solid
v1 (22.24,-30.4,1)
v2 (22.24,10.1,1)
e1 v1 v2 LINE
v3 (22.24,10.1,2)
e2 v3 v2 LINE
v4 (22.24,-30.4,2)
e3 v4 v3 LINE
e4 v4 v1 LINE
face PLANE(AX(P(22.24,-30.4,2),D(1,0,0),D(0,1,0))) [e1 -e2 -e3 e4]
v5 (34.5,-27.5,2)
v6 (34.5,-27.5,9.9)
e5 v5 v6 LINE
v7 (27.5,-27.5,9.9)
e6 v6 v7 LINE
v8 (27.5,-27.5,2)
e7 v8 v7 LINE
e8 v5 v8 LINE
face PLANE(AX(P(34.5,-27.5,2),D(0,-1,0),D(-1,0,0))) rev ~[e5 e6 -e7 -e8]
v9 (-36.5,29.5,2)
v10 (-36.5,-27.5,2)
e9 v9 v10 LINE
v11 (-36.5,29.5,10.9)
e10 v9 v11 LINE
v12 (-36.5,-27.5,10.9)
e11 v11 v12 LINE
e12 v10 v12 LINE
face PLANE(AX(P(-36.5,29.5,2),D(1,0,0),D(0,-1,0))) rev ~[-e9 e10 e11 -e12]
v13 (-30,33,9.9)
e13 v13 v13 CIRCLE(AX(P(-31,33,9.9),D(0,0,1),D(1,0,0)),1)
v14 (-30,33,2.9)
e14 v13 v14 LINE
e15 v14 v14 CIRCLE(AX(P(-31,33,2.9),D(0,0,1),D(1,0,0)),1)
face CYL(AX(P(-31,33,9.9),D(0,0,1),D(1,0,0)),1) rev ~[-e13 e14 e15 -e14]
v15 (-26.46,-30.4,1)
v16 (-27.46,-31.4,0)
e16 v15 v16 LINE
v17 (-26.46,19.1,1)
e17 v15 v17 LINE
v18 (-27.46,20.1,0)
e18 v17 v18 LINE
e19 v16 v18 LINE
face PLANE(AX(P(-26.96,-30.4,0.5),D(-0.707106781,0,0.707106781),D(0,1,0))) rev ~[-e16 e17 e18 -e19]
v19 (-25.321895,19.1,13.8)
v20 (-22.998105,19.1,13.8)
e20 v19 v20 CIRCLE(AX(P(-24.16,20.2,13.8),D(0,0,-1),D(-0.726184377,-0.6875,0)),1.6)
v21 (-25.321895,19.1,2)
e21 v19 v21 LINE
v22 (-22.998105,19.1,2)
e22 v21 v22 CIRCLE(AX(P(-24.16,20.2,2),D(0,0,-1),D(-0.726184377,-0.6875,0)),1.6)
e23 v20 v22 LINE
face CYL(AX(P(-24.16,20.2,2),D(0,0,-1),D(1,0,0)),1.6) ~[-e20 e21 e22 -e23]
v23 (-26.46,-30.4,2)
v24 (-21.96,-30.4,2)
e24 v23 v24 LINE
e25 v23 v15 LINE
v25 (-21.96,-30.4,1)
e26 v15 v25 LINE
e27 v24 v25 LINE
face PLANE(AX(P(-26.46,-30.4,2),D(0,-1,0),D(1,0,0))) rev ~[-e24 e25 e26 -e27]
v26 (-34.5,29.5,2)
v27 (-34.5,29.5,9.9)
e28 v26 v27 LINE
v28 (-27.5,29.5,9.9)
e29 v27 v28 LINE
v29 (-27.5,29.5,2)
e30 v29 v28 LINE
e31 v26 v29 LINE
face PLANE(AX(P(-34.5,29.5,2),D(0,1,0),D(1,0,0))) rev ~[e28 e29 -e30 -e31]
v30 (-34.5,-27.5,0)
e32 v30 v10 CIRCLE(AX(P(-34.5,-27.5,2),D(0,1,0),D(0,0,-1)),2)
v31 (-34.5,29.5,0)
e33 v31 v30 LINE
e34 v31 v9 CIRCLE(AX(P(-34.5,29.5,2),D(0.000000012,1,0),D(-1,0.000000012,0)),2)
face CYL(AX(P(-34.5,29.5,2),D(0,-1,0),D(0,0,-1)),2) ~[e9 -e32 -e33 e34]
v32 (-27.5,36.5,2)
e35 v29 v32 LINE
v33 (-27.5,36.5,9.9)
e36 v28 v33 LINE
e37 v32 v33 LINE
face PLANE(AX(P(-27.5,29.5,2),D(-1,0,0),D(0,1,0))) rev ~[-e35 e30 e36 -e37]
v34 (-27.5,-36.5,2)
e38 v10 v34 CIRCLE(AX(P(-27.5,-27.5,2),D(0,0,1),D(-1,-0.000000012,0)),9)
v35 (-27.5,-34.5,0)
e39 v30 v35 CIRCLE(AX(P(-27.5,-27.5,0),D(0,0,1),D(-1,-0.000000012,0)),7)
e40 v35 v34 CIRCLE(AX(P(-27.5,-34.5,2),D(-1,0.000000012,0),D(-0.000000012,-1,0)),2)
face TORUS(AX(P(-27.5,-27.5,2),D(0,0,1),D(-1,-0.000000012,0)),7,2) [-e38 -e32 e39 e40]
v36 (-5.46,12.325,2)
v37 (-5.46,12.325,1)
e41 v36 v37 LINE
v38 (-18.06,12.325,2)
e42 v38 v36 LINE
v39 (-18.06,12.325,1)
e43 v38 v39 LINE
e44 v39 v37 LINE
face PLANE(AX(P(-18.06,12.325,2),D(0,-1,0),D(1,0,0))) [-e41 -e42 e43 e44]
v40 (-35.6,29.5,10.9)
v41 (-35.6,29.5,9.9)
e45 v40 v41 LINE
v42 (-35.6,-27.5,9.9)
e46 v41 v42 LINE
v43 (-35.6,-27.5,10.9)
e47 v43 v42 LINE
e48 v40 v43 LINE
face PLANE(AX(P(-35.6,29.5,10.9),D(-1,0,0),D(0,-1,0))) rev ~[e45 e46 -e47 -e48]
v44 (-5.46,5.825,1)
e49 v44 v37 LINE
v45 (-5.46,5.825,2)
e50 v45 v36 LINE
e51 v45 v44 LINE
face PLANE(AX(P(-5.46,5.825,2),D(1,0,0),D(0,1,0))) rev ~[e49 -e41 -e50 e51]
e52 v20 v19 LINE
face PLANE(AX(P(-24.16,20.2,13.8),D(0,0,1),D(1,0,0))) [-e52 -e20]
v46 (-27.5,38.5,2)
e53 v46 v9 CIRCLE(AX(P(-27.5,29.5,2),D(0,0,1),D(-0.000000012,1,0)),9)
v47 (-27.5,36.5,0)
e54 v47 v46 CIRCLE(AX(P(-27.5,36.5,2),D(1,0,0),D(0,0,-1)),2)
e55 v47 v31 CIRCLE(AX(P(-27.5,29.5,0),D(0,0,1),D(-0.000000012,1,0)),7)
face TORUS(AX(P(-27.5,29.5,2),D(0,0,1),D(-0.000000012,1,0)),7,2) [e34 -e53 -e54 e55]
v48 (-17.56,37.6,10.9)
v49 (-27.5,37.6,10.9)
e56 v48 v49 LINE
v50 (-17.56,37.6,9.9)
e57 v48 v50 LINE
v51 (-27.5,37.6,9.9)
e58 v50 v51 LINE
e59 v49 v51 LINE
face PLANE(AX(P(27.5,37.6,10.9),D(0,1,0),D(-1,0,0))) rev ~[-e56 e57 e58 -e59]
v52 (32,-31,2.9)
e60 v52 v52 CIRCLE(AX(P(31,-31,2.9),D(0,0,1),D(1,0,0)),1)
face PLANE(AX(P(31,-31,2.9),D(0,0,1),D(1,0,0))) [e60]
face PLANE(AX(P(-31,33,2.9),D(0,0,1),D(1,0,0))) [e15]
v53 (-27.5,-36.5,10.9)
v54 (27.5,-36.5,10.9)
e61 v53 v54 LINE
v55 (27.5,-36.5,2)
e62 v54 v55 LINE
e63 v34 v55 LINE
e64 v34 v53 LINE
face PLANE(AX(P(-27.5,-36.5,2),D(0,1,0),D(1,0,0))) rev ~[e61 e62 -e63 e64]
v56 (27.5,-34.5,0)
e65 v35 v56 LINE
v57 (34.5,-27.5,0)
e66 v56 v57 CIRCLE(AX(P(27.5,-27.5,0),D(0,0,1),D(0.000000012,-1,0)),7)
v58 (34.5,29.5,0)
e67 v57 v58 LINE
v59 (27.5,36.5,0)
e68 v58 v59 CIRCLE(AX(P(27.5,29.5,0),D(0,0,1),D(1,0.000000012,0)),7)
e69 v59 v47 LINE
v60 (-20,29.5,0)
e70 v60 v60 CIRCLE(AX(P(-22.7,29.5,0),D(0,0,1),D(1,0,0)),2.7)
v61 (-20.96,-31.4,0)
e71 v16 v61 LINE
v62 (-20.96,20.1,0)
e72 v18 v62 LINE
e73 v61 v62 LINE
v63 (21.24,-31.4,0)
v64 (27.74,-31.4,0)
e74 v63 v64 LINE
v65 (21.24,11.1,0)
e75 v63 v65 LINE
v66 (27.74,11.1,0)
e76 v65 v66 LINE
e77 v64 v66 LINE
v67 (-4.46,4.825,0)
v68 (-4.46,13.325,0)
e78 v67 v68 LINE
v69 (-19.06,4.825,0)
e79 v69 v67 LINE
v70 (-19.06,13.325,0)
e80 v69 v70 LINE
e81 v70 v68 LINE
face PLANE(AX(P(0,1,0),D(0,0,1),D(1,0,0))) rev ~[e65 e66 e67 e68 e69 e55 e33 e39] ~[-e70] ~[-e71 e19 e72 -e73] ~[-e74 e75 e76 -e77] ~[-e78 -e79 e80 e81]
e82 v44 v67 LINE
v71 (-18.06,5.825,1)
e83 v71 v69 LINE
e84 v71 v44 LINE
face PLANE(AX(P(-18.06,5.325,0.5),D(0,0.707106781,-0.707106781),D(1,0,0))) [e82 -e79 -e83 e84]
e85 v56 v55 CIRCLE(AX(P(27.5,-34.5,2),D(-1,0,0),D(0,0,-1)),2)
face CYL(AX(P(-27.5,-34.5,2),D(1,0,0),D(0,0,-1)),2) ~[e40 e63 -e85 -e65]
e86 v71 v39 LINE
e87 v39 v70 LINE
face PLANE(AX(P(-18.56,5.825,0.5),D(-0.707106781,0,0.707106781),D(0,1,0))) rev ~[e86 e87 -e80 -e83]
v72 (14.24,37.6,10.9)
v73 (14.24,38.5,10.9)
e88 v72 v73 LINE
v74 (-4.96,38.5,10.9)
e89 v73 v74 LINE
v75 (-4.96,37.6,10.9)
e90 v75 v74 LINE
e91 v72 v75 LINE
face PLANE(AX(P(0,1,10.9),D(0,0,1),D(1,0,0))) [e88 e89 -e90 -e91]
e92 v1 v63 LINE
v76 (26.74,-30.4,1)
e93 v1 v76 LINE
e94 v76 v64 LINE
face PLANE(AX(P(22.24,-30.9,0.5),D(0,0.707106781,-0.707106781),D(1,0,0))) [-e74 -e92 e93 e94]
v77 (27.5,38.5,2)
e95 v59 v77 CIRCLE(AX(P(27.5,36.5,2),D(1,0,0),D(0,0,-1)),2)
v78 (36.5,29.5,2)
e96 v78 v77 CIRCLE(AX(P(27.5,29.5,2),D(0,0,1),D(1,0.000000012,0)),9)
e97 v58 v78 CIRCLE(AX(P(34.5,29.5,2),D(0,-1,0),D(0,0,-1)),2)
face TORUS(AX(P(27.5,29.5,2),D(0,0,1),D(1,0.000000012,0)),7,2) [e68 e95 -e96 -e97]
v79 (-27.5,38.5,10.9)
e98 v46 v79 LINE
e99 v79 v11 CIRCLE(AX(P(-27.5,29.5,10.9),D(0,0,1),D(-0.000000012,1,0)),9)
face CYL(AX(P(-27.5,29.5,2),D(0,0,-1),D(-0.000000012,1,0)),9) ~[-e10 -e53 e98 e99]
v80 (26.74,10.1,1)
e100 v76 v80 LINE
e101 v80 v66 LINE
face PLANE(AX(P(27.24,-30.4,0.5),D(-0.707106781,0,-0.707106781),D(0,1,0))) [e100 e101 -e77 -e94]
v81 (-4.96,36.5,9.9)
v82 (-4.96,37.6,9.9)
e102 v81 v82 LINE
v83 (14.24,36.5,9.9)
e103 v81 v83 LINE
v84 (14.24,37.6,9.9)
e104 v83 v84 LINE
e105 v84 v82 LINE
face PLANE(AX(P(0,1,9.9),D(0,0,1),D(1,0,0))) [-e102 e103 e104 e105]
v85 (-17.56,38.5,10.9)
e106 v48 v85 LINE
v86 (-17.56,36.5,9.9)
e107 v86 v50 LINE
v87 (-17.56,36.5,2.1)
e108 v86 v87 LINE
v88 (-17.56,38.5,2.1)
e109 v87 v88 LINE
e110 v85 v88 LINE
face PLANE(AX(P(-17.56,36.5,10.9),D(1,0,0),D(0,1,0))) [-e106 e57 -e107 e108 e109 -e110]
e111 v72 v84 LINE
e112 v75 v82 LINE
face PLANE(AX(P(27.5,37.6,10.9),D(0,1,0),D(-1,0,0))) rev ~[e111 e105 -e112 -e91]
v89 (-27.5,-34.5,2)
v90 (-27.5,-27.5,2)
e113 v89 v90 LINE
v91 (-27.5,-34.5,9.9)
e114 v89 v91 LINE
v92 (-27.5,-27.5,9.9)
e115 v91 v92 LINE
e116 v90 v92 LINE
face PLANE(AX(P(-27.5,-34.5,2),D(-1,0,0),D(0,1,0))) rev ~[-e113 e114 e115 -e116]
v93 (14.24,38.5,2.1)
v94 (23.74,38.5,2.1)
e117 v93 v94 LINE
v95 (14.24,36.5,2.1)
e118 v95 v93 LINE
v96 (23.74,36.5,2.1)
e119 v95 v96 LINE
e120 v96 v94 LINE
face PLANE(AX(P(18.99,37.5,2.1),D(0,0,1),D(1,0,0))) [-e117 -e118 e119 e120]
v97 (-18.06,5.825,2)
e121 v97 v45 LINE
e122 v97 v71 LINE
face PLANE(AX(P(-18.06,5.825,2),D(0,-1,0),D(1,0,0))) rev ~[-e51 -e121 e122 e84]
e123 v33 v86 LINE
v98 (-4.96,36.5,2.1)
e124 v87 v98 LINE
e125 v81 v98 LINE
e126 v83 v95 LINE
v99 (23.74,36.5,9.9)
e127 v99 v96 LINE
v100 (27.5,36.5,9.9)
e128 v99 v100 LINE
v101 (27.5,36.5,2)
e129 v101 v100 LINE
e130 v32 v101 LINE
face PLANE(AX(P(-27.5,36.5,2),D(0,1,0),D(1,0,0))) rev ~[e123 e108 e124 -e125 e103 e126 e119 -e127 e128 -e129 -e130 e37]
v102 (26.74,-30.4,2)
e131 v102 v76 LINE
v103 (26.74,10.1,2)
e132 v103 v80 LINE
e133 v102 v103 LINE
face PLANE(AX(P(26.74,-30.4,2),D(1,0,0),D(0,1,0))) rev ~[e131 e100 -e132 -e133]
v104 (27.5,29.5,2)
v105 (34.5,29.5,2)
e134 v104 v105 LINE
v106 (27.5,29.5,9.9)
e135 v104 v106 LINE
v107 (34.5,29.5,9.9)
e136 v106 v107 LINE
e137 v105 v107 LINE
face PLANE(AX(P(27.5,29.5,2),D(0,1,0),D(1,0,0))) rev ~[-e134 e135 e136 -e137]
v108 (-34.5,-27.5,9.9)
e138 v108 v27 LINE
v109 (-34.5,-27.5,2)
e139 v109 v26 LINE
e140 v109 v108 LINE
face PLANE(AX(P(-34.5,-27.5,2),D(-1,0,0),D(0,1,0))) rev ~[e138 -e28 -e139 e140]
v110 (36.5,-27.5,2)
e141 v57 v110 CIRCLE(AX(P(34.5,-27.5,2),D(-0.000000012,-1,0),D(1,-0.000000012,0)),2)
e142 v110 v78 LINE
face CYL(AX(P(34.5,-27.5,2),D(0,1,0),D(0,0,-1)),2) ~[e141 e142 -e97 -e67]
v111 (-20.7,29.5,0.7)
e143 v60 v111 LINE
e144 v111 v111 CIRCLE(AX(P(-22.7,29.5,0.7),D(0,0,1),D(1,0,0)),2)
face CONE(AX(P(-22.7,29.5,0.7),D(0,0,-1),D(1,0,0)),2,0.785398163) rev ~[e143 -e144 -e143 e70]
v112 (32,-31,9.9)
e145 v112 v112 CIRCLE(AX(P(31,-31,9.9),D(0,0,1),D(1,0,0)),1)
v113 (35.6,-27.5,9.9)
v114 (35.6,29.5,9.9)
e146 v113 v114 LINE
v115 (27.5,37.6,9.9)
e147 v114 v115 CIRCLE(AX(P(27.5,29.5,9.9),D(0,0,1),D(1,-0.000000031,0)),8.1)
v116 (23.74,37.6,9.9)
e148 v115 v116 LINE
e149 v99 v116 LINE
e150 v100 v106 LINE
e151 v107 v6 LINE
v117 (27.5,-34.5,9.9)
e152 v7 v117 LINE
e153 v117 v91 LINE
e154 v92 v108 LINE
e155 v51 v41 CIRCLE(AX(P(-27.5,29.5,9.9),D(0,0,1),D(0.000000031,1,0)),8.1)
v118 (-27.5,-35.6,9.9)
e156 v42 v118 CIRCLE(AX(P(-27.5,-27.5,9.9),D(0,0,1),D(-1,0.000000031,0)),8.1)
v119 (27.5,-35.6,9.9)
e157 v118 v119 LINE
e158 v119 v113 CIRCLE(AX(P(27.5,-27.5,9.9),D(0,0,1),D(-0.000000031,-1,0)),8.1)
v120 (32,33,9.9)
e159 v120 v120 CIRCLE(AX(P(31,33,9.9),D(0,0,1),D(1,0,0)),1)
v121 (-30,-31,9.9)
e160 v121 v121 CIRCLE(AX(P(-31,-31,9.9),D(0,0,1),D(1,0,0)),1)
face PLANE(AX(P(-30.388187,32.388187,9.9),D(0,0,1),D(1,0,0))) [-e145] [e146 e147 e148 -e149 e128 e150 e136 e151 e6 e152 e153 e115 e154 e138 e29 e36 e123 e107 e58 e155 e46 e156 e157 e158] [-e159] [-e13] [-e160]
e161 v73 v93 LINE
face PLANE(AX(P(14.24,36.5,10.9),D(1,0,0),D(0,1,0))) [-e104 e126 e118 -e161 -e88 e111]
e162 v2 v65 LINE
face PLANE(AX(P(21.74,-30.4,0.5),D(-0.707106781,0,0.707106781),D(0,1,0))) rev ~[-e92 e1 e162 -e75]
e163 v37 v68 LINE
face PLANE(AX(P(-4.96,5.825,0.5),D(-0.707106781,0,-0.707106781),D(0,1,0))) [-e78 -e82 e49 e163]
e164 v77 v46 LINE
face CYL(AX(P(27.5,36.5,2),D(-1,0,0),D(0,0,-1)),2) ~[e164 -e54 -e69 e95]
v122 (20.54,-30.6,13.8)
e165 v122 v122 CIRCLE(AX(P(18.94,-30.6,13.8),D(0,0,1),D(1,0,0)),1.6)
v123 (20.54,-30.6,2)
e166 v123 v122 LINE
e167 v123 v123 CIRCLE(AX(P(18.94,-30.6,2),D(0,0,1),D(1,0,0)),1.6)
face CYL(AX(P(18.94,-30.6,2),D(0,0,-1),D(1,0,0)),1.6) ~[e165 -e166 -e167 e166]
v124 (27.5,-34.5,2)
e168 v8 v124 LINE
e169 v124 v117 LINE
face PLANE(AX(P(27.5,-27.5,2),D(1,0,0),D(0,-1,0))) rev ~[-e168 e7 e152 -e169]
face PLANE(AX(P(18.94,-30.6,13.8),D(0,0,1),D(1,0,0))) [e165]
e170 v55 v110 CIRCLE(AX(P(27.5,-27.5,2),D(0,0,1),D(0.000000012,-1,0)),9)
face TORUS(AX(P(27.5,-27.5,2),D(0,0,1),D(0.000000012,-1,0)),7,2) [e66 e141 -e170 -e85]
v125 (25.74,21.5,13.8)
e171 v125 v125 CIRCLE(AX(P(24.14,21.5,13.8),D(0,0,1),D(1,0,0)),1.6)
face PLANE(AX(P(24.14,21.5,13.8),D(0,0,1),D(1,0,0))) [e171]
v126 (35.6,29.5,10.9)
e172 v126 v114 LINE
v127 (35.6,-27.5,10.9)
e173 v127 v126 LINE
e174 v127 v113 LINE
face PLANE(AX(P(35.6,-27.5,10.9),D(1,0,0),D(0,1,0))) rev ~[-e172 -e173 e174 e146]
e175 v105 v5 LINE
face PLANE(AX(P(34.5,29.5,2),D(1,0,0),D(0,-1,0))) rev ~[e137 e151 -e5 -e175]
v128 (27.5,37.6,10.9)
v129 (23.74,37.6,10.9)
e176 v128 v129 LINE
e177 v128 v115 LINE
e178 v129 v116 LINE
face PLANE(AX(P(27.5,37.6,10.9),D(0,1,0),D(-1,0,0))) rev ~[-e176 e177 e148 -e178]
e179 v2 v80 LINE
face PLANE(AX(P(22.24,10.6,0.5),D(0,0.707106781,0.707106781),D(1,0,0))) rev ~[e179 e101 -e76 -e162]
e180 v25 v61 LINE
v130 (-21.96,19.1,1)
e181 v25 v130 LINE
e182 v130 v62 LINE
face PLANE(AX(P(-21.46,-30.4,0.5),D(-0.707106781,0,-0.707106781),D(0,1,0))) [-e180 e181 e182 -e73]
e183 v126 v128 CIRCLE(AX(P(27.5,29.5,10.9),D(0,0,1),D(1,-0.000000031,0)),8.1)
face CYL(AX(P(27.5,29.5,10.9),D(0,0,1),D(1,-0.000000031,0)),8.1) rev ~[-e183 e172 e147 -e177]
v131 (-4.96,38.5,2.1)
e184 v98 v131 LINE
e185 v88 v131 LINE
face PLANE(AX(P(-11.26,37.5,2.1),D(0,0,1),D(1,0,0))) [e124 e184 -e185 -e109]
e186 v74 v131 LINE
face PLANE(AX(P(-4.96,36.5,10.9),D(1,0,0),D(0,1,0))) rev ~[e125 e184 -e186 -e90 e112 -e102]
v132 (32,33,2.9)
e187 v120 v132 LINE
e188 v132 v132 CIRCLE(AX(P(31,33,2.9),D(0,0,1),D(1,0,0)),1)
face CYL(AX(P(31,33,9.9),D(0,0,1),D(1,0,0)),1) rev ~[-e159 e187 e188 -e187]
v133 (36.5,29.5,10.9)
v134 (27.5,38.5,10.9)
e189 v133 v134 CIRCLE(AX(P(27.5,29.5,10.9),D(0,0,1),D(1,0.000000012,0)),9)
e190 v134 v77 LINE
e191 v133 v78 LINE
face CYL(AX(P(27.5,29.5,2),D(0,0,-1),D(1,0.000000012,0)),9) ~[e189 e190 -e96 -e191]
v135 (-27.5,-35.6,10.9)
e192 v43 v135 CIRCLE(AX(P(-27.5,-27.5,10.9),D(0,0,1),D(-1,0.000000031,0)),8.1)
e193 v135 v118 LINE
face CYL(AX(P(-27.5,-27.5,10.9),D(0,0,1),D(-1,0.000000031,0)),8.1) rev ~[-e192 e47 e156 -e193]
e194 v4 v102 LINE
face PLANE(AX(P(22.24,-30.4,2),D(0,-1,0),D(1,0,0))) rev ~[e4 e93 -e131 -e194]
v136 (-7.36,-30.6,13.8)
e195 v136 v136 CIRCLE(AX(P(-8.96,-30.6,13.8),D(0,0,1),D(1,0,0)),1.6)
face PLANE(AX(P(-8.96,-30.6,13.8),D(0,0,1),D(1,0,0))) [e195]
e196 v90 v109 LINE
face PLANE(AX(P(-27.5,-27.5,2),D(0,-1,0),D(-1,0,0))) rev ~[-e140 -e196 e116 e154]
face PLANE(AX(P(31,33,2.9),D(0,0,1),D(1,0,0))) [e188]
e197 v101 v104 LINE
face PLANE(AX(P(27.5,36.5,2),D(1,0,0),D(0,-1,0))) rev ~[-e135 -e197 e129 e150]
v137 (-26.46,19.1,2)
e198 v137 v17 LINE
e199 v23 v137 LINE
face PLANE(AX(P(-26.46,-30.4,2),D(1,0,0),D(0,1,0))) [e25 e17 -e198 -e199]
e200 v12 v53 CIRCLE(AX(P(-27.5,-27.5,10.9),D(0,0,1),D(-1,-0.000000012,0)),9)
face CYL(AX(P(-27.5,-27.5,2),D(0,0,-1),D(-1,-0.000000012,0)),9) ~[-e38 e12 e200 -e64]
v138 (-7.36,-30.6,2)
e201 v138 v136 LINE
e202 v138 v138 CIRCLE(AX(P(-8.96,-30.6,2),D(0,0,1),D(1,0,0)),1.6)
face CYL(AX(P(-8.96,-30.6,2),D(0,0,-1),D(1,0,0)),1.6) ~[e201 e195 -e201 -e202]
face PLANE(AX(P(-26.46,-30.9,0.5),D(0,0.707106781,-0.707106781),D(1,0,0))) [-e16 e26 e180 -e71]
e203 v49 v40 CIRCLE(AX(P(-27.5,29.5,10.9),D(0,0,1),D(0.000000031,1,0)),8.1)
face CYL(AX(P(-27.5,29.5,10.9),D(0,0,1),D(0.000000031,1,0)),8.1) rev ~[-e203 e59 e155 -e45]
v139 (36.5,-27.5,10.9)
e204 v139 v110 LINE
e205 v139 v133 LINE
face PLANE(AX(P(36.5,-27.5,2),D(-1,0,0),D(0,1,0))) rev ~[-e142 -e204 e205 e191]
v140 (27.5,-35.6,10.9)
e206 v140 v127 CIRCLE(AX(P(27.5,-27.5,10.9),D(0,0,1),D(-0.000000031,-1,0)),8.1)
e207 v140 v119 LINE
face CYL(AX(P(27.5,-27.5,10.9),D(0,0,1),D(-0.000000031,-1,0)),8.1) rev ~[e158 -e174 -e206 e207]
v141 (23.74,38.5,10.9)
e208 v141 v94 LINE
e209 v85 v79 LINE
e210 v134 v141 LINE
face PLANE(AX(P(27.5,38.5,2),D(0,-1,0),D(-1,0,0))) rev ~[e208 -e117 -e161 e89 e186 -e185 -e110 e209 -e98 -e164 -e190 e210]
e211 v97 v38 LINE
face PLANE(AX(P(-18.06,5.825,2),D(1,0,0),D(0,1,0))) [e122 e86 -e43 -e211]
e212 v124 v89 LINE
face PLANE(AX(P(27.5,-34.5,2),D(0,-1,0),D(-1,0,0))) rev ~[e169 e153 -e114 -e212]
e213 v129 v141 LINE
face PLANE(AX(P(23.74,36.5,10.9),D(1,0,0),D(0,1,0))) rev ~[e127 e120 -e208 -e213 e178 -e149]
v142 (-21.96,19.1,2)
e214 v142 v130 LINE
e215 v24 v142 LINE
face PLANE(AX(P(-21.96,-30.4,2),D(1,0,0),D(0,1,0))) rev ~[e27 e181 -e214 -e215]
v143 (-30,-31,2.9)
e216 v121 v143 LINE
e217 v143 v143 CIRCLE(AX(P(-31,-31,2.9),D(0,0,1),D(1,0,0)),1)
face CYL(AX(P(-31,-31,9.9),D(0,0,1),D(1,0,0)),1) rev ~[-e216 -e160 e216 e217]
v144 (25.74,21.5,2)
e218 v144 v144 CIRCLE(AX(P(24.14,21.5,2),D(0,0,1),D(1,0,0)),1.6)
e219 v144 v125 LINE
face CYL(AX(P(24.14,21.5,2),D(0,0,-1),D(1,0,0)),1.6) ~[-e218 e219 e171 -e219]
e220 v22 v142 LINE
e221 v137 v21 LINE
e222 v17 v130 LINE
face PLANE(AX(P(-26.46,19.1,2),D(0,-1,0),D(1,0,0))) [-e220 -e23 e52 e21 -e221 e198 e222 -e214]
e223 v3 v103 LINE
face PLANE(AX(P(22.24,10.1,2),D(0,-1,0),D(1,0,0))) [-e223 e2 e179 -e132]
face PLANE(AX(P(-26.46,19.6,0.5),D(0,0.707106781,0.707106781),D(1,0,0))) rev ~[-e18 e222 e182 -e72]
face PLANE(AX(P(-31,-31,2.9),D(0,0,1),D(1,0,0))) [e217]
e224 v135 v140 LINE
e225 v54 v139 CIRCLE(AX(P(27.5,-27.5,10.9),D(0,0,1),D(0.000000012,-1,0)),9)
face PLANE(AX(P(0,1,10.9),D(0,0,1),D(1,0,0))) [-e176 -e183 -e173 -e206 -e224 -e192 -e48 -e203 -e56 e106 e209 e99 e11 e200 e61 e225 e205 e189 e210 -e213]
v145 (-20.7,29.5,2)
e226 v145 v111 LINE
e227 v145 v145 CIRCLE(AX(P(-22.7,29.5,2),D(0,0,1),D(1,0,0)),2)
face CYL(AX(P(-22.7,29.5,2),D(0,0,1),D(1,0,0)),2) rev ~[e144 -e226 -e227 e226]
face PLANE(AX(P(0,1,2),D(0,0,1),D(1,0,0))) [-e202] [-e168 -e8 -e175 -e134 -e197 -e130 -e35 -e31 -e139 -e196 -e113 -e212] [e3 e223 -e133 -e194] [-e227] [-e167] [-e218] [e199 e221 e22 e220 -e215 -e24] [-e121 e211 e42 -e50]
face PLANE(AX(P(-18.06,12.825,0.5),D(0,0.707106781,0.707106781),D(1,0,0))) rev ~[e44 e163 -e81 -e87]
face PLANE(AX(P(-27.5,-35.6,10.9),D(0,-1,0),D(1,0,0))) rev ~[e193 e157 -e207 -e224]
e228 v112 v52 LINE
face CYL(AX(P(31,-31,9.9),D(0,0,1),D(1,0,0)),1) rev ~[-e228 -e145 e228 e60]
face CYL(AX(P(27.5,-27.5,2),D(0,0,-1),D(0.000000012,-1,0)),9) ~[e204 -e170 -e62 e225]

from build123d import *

# Parameters (mm, degrees)
F1_DEPTH  = 2
F2_R      = 1.6
F3_DEPTH  = 11.8
F5_DEPTH  = 8.9
F7_DEPTH  = 1
F8_W      = 12.6
F8_H      = 2
F8_W_2    = 9.5
F9_DEPTH  = 8.8
F10_W     = 4.5
F10_H     = 49.5
F10_H_2   = 40.5
F11_DEPTH = 10
F12_DEPTH = 15
F14_DEPTH = 7.9
F15_R     = 1
F16_DEPTH = 7
F17_W     = 12.6
F17_H     = 6.5
F18_DEPTH = 4
F19_SIZE  = 1
F20_R     = 2
F21_DEPTH = 4
F22_R     = 2
F23_SIZE  = 0.7


with BuildPart() as f1:
    # F0 (on Top) → F1 (new body)
    with BuildSketch(Plane.XY):
        with BuildLine():
            Line((27.5, 38.5), (-27.5, 38.5))
            ThreePointArc((-27.5, 38.5), (-33.863961, 35.863961), (-36.5, 29.5))
            Line((-36.5, 29.5), (-36.5, -27.5))
            ThreePointArc((-36.5, -27.5), (-33.863961, -33.863961), (-27.5, -36.5))
            Line((-27.5, -36.5), (27.5, -36.5))
            ThreePointArc((27.5, -36.5), (33.863961, -33.863961), (36.5, -27.5))
            Line((36.5, -27.5), (36.5, 29.5))
            ThreePointArc((36.5, 29.5), (33.863961, 35.863961), (27.5, 38.5))
        make_face()
    extrude(amount=F1_DEPTH)

    # F2 (on face) → F3 (join)
    with BuildSketch(Plane.XY.offset(2)):
        with Locations((-24.16, 20.2)):
            Circle(F2_R)
        with Locations((24.14, 21.5)):
            Circle(F2_R)
        with Locations((18.94, -30.6)):
            Circle(F2_R)
        with Locations((-8.96, -30.6)):
            Circle(F2_R)
    extrude(amount=F3_DEPTH)

    # F4 (on face) → F5 (join)
    with BuildSketch(Plane.XY.offset(2)):
        with BuildLine():
            Line((27.5, 38.5), (-27.5, 38.5))
            ThreePointArc((-27.5, 38.5), (-33.863961, 35.863961), (-36.5, 29.5))
            Line((-36.5, 29.5), (-36.5, -27.5))
            ThreePointArc((-36.5, -27.5), (-33.863961, -33.863961), (-27.5, -36.5))
            Line((-27.5, -36.5), (27.5, -36.5))
            ThreePointArc((27.5, -36.5), (33.863961, -33.863961), (36.5, -27.5))
            Line((36.5, -27.5), (36.5, 29.5))
            ThreePointArc((36.5, 29.5), (33.863961, 35.863961), (27.5, 38.5))
        make_face()
        with BuildLine():
            ThreePointArc((-34.5, 29.5), (-32.449747, 34.449747), (-27.5, 36.5))
            Line((-27.5, 36.5), (27.5, 36.5))
            ThreePointArc((27.5, 36.5), (32.449747, 34.449747), (34.5, 29.5))
            Line((34.5, 29.5), (34.5, -27.5))
            ThreePointArc((34.5, -27.5), (32.449747, -32.449747), (27.5, -34.5))
            Line((27.5, -34.5), (-27.5, -34.5))
            ThreePointArc((-27.5, -34.5), (-32.449747, -32.449747), (-34.5, -27.5))
            Line((-34.5, -27.5), (-34.5, 29.5))
        make_face(mode=Mode.SUBTRACT)
    extrude(amount=F5_DEPTH)

    # F6 (on face) → F7 (cut)
    with BuildSketch(Plane.XY.offset(10.9)):
        with BuildLine():
            Line((27.5, 37.6), (-27.5, 37.6))
            ThreePointArc((-27.5, 37.6), (-33.227565, 35.227565), (-35.6, 29.5))
            Line((-35.6, 29.5), (-35.6, -27.5))
            ThreePointArc((-35.6, -27.5), (-33.227565, -33.227565), (-27.5, -35.6))
            Line((-27.5, -35.6), (27.5, -35.6))
            ThreePointArc((27.5, -35.6), (33.227565, -33.227565), (35.6, -27.5))
            Line((35.6, -27.5), (35.6, 29.5))
            ThreePointArc((35.6, 29.5), (33.227565, 35.227565), (27.5, 37.6))
        make_face()
        with BuildLine():
            ThreePointArc((-34.5, 29.5), (-32.449747, 34.449747), (-27.5, 36.5))
            Line((-27.5, 36.5), (27.5, 36.5))
            ThreePointArc((27.5, 36.5), (32.449747, 34.449747), (34.5, 29.5))
            Line((34.5, 29.5), (34.5, -27.5))
            ThreePointArc((34.5, -27.5), (32.449747, -32.449747), (27.5, -34.5))
            Line((27.5, -34.5), (-27.5, -34.5))
            ThreePointArc((-27.5, -34.5), (-32.449747, -32.449747), (-34.5, -27.5))
            Line((-34.5, -27.5), (-34.5, 29.5))
        make_face(mode=Mode.SUBTRACT)
    extrude(amount=-F7_DEPTH, mode=Mode.SUBTRACT)

    # F8 (on face) → F9 (cut)
    with BuildSketch(Plane.XY.offset(10.9)):
        with Locations((-11.26, 37.5)):
            Rectangle(F8_W, F8_H)
        with Locations((18.99, 37.5)):
            Rectangle(F8_W_2, F8_H)
    extrude(amount=-F9_DEPTH, mode=Mode.SUBTRACT)

    # F10 (on face) → F11 (cut)
    with BuildSketch(Plane.XY.offset(2)):
        with Locations((-24.21, -5.65)):
            Rectangle(F10_W, F10_H)
        with Locations((24.49, -10.15)):
            Rectangle(F10_W, F10_H_2)
    extrude(amount=-F11_DEPTH, mode=Mode.SUBTRACT)

    # F10 (on face) → F12 (cut)
    with BuildSketch(Plane.XY.offset(2)):
        with Locations((-24.21, -5.65)):
            Rectangle(F10_W, F10_H)
        with Locations((24.49, -10.15)):
            Rectangle(F10_W, F10_H_2)
    extrude(amount=F12_DEPTH, mode=Mode.SUBTRACT)

    # F13 (on face) → F14 (join)
    with BuildSketch(Plane.XY.offset(2)):
        with BuildLine():
            Line((-27.5, 29.5), (-27.5, 36.5))
            ThreePointArc((-27.5, 36.5), (-32.449747, 34.449747), (-34.5, 29.5))
            Line((-34.5, 29.5), (-27.5, 29.5))
        make_face()
        with BuildLine():
            Line((27.5, 29.5), (34.5, 29.5))
            ThreePointArc((34.5, 29.5), (32.449747, 34.449747), (27.5, 36.5))
            Line((27.5, 36.5), (27.5, 29.5))
        make_face()
        with BuildLine():
            Line((27.5, -27.5), (27.5, -34.5))
            ThreePointArc((27.5, -34.5), (32.449747, -32.449747), (34.5, -27.5))
            Line((34.5, -27.5), (27.5, -27.5))
        make_face()
        with BuildLine():
            Line((-27.5, -27.5), (-34.5, -27.5))
            ThreePointArc((-34.5, -27.5), (-32.449747, -32.449747), (-27.5, -34.5))
            Line((-27.5, -34.5), (-27.5, -27.5))
        make_face()
    extrude(amount=F14_DEPTH)

    # F15 (on face) → F16 (cut)
    with BuildSketch(Plane.XY.offset(9.9)):
        with Locations((-31, 33)):
            Circle(F15_R)
        with Locations((31, 33)):
            Circle(F15_R)
        with Locations((31, -31)):
            Circle(F15_R)
        with Locations((-31, -31)):
            Circle(F15_R)
    extrude(amount=-F16_DEPTH, mode=Mode.SUBTRACT)

    # F17 (on face) → F18 (cut)
    with BuildSketch(Plane.XY.offset(2)):
        with Locations((-11.76, 9.075)):
            Rectangle(F17_W, F17_H)
    extrude(amount=-F18_DEPTH, mode=Mode.SUBTRACT)

    # F19
    f19_edges = [f1.edges().sort_by_distance(p)[0] for p in [
        (-26.46, -5.65, 0),
        (-24.21, 19.1, 0),
        (-21.96, -5.65, 0),
        (-24.21, -30.4, 0),
        (-11.76, 5.825, 0),
        (-18.06, 9.075, 0),
        (-11.76, 12.325, 0),
        (-5.46, 9.075, 0),
        (22.24, -10.15, 0),
        (26.74, -10.15, 0),
        (24.49, 10.1, 0),
        (24.49, -30.4, 0),
    ]]
    chamfer(f19_edges, length=F19_SIZE)

    # F20 (on face) → F21 (cut)
    with BuildSketch(Plane.XY.offset(2)):
        with Locations((-22.7, 29.5)):
            Circle(F20_R)
    extrude(amount=-F21_DEPTH, mode=Mode.SUBTRACT)

    # F22
    f22_edges = [f1.edges().sort_by_distance(p)[0] for p in [
        (0, 38.5, 0),
    ]]
    fillet(f22_edges, radius=F22_R)

    # F23
    f23_edges = [f1.edges().sort_by_distance(p)[0] for p in [
        (-24.7, 29.5, 0),
    ]]
    chamfer(f23_edges, length=F23_SIZE)


solid = f1.part
